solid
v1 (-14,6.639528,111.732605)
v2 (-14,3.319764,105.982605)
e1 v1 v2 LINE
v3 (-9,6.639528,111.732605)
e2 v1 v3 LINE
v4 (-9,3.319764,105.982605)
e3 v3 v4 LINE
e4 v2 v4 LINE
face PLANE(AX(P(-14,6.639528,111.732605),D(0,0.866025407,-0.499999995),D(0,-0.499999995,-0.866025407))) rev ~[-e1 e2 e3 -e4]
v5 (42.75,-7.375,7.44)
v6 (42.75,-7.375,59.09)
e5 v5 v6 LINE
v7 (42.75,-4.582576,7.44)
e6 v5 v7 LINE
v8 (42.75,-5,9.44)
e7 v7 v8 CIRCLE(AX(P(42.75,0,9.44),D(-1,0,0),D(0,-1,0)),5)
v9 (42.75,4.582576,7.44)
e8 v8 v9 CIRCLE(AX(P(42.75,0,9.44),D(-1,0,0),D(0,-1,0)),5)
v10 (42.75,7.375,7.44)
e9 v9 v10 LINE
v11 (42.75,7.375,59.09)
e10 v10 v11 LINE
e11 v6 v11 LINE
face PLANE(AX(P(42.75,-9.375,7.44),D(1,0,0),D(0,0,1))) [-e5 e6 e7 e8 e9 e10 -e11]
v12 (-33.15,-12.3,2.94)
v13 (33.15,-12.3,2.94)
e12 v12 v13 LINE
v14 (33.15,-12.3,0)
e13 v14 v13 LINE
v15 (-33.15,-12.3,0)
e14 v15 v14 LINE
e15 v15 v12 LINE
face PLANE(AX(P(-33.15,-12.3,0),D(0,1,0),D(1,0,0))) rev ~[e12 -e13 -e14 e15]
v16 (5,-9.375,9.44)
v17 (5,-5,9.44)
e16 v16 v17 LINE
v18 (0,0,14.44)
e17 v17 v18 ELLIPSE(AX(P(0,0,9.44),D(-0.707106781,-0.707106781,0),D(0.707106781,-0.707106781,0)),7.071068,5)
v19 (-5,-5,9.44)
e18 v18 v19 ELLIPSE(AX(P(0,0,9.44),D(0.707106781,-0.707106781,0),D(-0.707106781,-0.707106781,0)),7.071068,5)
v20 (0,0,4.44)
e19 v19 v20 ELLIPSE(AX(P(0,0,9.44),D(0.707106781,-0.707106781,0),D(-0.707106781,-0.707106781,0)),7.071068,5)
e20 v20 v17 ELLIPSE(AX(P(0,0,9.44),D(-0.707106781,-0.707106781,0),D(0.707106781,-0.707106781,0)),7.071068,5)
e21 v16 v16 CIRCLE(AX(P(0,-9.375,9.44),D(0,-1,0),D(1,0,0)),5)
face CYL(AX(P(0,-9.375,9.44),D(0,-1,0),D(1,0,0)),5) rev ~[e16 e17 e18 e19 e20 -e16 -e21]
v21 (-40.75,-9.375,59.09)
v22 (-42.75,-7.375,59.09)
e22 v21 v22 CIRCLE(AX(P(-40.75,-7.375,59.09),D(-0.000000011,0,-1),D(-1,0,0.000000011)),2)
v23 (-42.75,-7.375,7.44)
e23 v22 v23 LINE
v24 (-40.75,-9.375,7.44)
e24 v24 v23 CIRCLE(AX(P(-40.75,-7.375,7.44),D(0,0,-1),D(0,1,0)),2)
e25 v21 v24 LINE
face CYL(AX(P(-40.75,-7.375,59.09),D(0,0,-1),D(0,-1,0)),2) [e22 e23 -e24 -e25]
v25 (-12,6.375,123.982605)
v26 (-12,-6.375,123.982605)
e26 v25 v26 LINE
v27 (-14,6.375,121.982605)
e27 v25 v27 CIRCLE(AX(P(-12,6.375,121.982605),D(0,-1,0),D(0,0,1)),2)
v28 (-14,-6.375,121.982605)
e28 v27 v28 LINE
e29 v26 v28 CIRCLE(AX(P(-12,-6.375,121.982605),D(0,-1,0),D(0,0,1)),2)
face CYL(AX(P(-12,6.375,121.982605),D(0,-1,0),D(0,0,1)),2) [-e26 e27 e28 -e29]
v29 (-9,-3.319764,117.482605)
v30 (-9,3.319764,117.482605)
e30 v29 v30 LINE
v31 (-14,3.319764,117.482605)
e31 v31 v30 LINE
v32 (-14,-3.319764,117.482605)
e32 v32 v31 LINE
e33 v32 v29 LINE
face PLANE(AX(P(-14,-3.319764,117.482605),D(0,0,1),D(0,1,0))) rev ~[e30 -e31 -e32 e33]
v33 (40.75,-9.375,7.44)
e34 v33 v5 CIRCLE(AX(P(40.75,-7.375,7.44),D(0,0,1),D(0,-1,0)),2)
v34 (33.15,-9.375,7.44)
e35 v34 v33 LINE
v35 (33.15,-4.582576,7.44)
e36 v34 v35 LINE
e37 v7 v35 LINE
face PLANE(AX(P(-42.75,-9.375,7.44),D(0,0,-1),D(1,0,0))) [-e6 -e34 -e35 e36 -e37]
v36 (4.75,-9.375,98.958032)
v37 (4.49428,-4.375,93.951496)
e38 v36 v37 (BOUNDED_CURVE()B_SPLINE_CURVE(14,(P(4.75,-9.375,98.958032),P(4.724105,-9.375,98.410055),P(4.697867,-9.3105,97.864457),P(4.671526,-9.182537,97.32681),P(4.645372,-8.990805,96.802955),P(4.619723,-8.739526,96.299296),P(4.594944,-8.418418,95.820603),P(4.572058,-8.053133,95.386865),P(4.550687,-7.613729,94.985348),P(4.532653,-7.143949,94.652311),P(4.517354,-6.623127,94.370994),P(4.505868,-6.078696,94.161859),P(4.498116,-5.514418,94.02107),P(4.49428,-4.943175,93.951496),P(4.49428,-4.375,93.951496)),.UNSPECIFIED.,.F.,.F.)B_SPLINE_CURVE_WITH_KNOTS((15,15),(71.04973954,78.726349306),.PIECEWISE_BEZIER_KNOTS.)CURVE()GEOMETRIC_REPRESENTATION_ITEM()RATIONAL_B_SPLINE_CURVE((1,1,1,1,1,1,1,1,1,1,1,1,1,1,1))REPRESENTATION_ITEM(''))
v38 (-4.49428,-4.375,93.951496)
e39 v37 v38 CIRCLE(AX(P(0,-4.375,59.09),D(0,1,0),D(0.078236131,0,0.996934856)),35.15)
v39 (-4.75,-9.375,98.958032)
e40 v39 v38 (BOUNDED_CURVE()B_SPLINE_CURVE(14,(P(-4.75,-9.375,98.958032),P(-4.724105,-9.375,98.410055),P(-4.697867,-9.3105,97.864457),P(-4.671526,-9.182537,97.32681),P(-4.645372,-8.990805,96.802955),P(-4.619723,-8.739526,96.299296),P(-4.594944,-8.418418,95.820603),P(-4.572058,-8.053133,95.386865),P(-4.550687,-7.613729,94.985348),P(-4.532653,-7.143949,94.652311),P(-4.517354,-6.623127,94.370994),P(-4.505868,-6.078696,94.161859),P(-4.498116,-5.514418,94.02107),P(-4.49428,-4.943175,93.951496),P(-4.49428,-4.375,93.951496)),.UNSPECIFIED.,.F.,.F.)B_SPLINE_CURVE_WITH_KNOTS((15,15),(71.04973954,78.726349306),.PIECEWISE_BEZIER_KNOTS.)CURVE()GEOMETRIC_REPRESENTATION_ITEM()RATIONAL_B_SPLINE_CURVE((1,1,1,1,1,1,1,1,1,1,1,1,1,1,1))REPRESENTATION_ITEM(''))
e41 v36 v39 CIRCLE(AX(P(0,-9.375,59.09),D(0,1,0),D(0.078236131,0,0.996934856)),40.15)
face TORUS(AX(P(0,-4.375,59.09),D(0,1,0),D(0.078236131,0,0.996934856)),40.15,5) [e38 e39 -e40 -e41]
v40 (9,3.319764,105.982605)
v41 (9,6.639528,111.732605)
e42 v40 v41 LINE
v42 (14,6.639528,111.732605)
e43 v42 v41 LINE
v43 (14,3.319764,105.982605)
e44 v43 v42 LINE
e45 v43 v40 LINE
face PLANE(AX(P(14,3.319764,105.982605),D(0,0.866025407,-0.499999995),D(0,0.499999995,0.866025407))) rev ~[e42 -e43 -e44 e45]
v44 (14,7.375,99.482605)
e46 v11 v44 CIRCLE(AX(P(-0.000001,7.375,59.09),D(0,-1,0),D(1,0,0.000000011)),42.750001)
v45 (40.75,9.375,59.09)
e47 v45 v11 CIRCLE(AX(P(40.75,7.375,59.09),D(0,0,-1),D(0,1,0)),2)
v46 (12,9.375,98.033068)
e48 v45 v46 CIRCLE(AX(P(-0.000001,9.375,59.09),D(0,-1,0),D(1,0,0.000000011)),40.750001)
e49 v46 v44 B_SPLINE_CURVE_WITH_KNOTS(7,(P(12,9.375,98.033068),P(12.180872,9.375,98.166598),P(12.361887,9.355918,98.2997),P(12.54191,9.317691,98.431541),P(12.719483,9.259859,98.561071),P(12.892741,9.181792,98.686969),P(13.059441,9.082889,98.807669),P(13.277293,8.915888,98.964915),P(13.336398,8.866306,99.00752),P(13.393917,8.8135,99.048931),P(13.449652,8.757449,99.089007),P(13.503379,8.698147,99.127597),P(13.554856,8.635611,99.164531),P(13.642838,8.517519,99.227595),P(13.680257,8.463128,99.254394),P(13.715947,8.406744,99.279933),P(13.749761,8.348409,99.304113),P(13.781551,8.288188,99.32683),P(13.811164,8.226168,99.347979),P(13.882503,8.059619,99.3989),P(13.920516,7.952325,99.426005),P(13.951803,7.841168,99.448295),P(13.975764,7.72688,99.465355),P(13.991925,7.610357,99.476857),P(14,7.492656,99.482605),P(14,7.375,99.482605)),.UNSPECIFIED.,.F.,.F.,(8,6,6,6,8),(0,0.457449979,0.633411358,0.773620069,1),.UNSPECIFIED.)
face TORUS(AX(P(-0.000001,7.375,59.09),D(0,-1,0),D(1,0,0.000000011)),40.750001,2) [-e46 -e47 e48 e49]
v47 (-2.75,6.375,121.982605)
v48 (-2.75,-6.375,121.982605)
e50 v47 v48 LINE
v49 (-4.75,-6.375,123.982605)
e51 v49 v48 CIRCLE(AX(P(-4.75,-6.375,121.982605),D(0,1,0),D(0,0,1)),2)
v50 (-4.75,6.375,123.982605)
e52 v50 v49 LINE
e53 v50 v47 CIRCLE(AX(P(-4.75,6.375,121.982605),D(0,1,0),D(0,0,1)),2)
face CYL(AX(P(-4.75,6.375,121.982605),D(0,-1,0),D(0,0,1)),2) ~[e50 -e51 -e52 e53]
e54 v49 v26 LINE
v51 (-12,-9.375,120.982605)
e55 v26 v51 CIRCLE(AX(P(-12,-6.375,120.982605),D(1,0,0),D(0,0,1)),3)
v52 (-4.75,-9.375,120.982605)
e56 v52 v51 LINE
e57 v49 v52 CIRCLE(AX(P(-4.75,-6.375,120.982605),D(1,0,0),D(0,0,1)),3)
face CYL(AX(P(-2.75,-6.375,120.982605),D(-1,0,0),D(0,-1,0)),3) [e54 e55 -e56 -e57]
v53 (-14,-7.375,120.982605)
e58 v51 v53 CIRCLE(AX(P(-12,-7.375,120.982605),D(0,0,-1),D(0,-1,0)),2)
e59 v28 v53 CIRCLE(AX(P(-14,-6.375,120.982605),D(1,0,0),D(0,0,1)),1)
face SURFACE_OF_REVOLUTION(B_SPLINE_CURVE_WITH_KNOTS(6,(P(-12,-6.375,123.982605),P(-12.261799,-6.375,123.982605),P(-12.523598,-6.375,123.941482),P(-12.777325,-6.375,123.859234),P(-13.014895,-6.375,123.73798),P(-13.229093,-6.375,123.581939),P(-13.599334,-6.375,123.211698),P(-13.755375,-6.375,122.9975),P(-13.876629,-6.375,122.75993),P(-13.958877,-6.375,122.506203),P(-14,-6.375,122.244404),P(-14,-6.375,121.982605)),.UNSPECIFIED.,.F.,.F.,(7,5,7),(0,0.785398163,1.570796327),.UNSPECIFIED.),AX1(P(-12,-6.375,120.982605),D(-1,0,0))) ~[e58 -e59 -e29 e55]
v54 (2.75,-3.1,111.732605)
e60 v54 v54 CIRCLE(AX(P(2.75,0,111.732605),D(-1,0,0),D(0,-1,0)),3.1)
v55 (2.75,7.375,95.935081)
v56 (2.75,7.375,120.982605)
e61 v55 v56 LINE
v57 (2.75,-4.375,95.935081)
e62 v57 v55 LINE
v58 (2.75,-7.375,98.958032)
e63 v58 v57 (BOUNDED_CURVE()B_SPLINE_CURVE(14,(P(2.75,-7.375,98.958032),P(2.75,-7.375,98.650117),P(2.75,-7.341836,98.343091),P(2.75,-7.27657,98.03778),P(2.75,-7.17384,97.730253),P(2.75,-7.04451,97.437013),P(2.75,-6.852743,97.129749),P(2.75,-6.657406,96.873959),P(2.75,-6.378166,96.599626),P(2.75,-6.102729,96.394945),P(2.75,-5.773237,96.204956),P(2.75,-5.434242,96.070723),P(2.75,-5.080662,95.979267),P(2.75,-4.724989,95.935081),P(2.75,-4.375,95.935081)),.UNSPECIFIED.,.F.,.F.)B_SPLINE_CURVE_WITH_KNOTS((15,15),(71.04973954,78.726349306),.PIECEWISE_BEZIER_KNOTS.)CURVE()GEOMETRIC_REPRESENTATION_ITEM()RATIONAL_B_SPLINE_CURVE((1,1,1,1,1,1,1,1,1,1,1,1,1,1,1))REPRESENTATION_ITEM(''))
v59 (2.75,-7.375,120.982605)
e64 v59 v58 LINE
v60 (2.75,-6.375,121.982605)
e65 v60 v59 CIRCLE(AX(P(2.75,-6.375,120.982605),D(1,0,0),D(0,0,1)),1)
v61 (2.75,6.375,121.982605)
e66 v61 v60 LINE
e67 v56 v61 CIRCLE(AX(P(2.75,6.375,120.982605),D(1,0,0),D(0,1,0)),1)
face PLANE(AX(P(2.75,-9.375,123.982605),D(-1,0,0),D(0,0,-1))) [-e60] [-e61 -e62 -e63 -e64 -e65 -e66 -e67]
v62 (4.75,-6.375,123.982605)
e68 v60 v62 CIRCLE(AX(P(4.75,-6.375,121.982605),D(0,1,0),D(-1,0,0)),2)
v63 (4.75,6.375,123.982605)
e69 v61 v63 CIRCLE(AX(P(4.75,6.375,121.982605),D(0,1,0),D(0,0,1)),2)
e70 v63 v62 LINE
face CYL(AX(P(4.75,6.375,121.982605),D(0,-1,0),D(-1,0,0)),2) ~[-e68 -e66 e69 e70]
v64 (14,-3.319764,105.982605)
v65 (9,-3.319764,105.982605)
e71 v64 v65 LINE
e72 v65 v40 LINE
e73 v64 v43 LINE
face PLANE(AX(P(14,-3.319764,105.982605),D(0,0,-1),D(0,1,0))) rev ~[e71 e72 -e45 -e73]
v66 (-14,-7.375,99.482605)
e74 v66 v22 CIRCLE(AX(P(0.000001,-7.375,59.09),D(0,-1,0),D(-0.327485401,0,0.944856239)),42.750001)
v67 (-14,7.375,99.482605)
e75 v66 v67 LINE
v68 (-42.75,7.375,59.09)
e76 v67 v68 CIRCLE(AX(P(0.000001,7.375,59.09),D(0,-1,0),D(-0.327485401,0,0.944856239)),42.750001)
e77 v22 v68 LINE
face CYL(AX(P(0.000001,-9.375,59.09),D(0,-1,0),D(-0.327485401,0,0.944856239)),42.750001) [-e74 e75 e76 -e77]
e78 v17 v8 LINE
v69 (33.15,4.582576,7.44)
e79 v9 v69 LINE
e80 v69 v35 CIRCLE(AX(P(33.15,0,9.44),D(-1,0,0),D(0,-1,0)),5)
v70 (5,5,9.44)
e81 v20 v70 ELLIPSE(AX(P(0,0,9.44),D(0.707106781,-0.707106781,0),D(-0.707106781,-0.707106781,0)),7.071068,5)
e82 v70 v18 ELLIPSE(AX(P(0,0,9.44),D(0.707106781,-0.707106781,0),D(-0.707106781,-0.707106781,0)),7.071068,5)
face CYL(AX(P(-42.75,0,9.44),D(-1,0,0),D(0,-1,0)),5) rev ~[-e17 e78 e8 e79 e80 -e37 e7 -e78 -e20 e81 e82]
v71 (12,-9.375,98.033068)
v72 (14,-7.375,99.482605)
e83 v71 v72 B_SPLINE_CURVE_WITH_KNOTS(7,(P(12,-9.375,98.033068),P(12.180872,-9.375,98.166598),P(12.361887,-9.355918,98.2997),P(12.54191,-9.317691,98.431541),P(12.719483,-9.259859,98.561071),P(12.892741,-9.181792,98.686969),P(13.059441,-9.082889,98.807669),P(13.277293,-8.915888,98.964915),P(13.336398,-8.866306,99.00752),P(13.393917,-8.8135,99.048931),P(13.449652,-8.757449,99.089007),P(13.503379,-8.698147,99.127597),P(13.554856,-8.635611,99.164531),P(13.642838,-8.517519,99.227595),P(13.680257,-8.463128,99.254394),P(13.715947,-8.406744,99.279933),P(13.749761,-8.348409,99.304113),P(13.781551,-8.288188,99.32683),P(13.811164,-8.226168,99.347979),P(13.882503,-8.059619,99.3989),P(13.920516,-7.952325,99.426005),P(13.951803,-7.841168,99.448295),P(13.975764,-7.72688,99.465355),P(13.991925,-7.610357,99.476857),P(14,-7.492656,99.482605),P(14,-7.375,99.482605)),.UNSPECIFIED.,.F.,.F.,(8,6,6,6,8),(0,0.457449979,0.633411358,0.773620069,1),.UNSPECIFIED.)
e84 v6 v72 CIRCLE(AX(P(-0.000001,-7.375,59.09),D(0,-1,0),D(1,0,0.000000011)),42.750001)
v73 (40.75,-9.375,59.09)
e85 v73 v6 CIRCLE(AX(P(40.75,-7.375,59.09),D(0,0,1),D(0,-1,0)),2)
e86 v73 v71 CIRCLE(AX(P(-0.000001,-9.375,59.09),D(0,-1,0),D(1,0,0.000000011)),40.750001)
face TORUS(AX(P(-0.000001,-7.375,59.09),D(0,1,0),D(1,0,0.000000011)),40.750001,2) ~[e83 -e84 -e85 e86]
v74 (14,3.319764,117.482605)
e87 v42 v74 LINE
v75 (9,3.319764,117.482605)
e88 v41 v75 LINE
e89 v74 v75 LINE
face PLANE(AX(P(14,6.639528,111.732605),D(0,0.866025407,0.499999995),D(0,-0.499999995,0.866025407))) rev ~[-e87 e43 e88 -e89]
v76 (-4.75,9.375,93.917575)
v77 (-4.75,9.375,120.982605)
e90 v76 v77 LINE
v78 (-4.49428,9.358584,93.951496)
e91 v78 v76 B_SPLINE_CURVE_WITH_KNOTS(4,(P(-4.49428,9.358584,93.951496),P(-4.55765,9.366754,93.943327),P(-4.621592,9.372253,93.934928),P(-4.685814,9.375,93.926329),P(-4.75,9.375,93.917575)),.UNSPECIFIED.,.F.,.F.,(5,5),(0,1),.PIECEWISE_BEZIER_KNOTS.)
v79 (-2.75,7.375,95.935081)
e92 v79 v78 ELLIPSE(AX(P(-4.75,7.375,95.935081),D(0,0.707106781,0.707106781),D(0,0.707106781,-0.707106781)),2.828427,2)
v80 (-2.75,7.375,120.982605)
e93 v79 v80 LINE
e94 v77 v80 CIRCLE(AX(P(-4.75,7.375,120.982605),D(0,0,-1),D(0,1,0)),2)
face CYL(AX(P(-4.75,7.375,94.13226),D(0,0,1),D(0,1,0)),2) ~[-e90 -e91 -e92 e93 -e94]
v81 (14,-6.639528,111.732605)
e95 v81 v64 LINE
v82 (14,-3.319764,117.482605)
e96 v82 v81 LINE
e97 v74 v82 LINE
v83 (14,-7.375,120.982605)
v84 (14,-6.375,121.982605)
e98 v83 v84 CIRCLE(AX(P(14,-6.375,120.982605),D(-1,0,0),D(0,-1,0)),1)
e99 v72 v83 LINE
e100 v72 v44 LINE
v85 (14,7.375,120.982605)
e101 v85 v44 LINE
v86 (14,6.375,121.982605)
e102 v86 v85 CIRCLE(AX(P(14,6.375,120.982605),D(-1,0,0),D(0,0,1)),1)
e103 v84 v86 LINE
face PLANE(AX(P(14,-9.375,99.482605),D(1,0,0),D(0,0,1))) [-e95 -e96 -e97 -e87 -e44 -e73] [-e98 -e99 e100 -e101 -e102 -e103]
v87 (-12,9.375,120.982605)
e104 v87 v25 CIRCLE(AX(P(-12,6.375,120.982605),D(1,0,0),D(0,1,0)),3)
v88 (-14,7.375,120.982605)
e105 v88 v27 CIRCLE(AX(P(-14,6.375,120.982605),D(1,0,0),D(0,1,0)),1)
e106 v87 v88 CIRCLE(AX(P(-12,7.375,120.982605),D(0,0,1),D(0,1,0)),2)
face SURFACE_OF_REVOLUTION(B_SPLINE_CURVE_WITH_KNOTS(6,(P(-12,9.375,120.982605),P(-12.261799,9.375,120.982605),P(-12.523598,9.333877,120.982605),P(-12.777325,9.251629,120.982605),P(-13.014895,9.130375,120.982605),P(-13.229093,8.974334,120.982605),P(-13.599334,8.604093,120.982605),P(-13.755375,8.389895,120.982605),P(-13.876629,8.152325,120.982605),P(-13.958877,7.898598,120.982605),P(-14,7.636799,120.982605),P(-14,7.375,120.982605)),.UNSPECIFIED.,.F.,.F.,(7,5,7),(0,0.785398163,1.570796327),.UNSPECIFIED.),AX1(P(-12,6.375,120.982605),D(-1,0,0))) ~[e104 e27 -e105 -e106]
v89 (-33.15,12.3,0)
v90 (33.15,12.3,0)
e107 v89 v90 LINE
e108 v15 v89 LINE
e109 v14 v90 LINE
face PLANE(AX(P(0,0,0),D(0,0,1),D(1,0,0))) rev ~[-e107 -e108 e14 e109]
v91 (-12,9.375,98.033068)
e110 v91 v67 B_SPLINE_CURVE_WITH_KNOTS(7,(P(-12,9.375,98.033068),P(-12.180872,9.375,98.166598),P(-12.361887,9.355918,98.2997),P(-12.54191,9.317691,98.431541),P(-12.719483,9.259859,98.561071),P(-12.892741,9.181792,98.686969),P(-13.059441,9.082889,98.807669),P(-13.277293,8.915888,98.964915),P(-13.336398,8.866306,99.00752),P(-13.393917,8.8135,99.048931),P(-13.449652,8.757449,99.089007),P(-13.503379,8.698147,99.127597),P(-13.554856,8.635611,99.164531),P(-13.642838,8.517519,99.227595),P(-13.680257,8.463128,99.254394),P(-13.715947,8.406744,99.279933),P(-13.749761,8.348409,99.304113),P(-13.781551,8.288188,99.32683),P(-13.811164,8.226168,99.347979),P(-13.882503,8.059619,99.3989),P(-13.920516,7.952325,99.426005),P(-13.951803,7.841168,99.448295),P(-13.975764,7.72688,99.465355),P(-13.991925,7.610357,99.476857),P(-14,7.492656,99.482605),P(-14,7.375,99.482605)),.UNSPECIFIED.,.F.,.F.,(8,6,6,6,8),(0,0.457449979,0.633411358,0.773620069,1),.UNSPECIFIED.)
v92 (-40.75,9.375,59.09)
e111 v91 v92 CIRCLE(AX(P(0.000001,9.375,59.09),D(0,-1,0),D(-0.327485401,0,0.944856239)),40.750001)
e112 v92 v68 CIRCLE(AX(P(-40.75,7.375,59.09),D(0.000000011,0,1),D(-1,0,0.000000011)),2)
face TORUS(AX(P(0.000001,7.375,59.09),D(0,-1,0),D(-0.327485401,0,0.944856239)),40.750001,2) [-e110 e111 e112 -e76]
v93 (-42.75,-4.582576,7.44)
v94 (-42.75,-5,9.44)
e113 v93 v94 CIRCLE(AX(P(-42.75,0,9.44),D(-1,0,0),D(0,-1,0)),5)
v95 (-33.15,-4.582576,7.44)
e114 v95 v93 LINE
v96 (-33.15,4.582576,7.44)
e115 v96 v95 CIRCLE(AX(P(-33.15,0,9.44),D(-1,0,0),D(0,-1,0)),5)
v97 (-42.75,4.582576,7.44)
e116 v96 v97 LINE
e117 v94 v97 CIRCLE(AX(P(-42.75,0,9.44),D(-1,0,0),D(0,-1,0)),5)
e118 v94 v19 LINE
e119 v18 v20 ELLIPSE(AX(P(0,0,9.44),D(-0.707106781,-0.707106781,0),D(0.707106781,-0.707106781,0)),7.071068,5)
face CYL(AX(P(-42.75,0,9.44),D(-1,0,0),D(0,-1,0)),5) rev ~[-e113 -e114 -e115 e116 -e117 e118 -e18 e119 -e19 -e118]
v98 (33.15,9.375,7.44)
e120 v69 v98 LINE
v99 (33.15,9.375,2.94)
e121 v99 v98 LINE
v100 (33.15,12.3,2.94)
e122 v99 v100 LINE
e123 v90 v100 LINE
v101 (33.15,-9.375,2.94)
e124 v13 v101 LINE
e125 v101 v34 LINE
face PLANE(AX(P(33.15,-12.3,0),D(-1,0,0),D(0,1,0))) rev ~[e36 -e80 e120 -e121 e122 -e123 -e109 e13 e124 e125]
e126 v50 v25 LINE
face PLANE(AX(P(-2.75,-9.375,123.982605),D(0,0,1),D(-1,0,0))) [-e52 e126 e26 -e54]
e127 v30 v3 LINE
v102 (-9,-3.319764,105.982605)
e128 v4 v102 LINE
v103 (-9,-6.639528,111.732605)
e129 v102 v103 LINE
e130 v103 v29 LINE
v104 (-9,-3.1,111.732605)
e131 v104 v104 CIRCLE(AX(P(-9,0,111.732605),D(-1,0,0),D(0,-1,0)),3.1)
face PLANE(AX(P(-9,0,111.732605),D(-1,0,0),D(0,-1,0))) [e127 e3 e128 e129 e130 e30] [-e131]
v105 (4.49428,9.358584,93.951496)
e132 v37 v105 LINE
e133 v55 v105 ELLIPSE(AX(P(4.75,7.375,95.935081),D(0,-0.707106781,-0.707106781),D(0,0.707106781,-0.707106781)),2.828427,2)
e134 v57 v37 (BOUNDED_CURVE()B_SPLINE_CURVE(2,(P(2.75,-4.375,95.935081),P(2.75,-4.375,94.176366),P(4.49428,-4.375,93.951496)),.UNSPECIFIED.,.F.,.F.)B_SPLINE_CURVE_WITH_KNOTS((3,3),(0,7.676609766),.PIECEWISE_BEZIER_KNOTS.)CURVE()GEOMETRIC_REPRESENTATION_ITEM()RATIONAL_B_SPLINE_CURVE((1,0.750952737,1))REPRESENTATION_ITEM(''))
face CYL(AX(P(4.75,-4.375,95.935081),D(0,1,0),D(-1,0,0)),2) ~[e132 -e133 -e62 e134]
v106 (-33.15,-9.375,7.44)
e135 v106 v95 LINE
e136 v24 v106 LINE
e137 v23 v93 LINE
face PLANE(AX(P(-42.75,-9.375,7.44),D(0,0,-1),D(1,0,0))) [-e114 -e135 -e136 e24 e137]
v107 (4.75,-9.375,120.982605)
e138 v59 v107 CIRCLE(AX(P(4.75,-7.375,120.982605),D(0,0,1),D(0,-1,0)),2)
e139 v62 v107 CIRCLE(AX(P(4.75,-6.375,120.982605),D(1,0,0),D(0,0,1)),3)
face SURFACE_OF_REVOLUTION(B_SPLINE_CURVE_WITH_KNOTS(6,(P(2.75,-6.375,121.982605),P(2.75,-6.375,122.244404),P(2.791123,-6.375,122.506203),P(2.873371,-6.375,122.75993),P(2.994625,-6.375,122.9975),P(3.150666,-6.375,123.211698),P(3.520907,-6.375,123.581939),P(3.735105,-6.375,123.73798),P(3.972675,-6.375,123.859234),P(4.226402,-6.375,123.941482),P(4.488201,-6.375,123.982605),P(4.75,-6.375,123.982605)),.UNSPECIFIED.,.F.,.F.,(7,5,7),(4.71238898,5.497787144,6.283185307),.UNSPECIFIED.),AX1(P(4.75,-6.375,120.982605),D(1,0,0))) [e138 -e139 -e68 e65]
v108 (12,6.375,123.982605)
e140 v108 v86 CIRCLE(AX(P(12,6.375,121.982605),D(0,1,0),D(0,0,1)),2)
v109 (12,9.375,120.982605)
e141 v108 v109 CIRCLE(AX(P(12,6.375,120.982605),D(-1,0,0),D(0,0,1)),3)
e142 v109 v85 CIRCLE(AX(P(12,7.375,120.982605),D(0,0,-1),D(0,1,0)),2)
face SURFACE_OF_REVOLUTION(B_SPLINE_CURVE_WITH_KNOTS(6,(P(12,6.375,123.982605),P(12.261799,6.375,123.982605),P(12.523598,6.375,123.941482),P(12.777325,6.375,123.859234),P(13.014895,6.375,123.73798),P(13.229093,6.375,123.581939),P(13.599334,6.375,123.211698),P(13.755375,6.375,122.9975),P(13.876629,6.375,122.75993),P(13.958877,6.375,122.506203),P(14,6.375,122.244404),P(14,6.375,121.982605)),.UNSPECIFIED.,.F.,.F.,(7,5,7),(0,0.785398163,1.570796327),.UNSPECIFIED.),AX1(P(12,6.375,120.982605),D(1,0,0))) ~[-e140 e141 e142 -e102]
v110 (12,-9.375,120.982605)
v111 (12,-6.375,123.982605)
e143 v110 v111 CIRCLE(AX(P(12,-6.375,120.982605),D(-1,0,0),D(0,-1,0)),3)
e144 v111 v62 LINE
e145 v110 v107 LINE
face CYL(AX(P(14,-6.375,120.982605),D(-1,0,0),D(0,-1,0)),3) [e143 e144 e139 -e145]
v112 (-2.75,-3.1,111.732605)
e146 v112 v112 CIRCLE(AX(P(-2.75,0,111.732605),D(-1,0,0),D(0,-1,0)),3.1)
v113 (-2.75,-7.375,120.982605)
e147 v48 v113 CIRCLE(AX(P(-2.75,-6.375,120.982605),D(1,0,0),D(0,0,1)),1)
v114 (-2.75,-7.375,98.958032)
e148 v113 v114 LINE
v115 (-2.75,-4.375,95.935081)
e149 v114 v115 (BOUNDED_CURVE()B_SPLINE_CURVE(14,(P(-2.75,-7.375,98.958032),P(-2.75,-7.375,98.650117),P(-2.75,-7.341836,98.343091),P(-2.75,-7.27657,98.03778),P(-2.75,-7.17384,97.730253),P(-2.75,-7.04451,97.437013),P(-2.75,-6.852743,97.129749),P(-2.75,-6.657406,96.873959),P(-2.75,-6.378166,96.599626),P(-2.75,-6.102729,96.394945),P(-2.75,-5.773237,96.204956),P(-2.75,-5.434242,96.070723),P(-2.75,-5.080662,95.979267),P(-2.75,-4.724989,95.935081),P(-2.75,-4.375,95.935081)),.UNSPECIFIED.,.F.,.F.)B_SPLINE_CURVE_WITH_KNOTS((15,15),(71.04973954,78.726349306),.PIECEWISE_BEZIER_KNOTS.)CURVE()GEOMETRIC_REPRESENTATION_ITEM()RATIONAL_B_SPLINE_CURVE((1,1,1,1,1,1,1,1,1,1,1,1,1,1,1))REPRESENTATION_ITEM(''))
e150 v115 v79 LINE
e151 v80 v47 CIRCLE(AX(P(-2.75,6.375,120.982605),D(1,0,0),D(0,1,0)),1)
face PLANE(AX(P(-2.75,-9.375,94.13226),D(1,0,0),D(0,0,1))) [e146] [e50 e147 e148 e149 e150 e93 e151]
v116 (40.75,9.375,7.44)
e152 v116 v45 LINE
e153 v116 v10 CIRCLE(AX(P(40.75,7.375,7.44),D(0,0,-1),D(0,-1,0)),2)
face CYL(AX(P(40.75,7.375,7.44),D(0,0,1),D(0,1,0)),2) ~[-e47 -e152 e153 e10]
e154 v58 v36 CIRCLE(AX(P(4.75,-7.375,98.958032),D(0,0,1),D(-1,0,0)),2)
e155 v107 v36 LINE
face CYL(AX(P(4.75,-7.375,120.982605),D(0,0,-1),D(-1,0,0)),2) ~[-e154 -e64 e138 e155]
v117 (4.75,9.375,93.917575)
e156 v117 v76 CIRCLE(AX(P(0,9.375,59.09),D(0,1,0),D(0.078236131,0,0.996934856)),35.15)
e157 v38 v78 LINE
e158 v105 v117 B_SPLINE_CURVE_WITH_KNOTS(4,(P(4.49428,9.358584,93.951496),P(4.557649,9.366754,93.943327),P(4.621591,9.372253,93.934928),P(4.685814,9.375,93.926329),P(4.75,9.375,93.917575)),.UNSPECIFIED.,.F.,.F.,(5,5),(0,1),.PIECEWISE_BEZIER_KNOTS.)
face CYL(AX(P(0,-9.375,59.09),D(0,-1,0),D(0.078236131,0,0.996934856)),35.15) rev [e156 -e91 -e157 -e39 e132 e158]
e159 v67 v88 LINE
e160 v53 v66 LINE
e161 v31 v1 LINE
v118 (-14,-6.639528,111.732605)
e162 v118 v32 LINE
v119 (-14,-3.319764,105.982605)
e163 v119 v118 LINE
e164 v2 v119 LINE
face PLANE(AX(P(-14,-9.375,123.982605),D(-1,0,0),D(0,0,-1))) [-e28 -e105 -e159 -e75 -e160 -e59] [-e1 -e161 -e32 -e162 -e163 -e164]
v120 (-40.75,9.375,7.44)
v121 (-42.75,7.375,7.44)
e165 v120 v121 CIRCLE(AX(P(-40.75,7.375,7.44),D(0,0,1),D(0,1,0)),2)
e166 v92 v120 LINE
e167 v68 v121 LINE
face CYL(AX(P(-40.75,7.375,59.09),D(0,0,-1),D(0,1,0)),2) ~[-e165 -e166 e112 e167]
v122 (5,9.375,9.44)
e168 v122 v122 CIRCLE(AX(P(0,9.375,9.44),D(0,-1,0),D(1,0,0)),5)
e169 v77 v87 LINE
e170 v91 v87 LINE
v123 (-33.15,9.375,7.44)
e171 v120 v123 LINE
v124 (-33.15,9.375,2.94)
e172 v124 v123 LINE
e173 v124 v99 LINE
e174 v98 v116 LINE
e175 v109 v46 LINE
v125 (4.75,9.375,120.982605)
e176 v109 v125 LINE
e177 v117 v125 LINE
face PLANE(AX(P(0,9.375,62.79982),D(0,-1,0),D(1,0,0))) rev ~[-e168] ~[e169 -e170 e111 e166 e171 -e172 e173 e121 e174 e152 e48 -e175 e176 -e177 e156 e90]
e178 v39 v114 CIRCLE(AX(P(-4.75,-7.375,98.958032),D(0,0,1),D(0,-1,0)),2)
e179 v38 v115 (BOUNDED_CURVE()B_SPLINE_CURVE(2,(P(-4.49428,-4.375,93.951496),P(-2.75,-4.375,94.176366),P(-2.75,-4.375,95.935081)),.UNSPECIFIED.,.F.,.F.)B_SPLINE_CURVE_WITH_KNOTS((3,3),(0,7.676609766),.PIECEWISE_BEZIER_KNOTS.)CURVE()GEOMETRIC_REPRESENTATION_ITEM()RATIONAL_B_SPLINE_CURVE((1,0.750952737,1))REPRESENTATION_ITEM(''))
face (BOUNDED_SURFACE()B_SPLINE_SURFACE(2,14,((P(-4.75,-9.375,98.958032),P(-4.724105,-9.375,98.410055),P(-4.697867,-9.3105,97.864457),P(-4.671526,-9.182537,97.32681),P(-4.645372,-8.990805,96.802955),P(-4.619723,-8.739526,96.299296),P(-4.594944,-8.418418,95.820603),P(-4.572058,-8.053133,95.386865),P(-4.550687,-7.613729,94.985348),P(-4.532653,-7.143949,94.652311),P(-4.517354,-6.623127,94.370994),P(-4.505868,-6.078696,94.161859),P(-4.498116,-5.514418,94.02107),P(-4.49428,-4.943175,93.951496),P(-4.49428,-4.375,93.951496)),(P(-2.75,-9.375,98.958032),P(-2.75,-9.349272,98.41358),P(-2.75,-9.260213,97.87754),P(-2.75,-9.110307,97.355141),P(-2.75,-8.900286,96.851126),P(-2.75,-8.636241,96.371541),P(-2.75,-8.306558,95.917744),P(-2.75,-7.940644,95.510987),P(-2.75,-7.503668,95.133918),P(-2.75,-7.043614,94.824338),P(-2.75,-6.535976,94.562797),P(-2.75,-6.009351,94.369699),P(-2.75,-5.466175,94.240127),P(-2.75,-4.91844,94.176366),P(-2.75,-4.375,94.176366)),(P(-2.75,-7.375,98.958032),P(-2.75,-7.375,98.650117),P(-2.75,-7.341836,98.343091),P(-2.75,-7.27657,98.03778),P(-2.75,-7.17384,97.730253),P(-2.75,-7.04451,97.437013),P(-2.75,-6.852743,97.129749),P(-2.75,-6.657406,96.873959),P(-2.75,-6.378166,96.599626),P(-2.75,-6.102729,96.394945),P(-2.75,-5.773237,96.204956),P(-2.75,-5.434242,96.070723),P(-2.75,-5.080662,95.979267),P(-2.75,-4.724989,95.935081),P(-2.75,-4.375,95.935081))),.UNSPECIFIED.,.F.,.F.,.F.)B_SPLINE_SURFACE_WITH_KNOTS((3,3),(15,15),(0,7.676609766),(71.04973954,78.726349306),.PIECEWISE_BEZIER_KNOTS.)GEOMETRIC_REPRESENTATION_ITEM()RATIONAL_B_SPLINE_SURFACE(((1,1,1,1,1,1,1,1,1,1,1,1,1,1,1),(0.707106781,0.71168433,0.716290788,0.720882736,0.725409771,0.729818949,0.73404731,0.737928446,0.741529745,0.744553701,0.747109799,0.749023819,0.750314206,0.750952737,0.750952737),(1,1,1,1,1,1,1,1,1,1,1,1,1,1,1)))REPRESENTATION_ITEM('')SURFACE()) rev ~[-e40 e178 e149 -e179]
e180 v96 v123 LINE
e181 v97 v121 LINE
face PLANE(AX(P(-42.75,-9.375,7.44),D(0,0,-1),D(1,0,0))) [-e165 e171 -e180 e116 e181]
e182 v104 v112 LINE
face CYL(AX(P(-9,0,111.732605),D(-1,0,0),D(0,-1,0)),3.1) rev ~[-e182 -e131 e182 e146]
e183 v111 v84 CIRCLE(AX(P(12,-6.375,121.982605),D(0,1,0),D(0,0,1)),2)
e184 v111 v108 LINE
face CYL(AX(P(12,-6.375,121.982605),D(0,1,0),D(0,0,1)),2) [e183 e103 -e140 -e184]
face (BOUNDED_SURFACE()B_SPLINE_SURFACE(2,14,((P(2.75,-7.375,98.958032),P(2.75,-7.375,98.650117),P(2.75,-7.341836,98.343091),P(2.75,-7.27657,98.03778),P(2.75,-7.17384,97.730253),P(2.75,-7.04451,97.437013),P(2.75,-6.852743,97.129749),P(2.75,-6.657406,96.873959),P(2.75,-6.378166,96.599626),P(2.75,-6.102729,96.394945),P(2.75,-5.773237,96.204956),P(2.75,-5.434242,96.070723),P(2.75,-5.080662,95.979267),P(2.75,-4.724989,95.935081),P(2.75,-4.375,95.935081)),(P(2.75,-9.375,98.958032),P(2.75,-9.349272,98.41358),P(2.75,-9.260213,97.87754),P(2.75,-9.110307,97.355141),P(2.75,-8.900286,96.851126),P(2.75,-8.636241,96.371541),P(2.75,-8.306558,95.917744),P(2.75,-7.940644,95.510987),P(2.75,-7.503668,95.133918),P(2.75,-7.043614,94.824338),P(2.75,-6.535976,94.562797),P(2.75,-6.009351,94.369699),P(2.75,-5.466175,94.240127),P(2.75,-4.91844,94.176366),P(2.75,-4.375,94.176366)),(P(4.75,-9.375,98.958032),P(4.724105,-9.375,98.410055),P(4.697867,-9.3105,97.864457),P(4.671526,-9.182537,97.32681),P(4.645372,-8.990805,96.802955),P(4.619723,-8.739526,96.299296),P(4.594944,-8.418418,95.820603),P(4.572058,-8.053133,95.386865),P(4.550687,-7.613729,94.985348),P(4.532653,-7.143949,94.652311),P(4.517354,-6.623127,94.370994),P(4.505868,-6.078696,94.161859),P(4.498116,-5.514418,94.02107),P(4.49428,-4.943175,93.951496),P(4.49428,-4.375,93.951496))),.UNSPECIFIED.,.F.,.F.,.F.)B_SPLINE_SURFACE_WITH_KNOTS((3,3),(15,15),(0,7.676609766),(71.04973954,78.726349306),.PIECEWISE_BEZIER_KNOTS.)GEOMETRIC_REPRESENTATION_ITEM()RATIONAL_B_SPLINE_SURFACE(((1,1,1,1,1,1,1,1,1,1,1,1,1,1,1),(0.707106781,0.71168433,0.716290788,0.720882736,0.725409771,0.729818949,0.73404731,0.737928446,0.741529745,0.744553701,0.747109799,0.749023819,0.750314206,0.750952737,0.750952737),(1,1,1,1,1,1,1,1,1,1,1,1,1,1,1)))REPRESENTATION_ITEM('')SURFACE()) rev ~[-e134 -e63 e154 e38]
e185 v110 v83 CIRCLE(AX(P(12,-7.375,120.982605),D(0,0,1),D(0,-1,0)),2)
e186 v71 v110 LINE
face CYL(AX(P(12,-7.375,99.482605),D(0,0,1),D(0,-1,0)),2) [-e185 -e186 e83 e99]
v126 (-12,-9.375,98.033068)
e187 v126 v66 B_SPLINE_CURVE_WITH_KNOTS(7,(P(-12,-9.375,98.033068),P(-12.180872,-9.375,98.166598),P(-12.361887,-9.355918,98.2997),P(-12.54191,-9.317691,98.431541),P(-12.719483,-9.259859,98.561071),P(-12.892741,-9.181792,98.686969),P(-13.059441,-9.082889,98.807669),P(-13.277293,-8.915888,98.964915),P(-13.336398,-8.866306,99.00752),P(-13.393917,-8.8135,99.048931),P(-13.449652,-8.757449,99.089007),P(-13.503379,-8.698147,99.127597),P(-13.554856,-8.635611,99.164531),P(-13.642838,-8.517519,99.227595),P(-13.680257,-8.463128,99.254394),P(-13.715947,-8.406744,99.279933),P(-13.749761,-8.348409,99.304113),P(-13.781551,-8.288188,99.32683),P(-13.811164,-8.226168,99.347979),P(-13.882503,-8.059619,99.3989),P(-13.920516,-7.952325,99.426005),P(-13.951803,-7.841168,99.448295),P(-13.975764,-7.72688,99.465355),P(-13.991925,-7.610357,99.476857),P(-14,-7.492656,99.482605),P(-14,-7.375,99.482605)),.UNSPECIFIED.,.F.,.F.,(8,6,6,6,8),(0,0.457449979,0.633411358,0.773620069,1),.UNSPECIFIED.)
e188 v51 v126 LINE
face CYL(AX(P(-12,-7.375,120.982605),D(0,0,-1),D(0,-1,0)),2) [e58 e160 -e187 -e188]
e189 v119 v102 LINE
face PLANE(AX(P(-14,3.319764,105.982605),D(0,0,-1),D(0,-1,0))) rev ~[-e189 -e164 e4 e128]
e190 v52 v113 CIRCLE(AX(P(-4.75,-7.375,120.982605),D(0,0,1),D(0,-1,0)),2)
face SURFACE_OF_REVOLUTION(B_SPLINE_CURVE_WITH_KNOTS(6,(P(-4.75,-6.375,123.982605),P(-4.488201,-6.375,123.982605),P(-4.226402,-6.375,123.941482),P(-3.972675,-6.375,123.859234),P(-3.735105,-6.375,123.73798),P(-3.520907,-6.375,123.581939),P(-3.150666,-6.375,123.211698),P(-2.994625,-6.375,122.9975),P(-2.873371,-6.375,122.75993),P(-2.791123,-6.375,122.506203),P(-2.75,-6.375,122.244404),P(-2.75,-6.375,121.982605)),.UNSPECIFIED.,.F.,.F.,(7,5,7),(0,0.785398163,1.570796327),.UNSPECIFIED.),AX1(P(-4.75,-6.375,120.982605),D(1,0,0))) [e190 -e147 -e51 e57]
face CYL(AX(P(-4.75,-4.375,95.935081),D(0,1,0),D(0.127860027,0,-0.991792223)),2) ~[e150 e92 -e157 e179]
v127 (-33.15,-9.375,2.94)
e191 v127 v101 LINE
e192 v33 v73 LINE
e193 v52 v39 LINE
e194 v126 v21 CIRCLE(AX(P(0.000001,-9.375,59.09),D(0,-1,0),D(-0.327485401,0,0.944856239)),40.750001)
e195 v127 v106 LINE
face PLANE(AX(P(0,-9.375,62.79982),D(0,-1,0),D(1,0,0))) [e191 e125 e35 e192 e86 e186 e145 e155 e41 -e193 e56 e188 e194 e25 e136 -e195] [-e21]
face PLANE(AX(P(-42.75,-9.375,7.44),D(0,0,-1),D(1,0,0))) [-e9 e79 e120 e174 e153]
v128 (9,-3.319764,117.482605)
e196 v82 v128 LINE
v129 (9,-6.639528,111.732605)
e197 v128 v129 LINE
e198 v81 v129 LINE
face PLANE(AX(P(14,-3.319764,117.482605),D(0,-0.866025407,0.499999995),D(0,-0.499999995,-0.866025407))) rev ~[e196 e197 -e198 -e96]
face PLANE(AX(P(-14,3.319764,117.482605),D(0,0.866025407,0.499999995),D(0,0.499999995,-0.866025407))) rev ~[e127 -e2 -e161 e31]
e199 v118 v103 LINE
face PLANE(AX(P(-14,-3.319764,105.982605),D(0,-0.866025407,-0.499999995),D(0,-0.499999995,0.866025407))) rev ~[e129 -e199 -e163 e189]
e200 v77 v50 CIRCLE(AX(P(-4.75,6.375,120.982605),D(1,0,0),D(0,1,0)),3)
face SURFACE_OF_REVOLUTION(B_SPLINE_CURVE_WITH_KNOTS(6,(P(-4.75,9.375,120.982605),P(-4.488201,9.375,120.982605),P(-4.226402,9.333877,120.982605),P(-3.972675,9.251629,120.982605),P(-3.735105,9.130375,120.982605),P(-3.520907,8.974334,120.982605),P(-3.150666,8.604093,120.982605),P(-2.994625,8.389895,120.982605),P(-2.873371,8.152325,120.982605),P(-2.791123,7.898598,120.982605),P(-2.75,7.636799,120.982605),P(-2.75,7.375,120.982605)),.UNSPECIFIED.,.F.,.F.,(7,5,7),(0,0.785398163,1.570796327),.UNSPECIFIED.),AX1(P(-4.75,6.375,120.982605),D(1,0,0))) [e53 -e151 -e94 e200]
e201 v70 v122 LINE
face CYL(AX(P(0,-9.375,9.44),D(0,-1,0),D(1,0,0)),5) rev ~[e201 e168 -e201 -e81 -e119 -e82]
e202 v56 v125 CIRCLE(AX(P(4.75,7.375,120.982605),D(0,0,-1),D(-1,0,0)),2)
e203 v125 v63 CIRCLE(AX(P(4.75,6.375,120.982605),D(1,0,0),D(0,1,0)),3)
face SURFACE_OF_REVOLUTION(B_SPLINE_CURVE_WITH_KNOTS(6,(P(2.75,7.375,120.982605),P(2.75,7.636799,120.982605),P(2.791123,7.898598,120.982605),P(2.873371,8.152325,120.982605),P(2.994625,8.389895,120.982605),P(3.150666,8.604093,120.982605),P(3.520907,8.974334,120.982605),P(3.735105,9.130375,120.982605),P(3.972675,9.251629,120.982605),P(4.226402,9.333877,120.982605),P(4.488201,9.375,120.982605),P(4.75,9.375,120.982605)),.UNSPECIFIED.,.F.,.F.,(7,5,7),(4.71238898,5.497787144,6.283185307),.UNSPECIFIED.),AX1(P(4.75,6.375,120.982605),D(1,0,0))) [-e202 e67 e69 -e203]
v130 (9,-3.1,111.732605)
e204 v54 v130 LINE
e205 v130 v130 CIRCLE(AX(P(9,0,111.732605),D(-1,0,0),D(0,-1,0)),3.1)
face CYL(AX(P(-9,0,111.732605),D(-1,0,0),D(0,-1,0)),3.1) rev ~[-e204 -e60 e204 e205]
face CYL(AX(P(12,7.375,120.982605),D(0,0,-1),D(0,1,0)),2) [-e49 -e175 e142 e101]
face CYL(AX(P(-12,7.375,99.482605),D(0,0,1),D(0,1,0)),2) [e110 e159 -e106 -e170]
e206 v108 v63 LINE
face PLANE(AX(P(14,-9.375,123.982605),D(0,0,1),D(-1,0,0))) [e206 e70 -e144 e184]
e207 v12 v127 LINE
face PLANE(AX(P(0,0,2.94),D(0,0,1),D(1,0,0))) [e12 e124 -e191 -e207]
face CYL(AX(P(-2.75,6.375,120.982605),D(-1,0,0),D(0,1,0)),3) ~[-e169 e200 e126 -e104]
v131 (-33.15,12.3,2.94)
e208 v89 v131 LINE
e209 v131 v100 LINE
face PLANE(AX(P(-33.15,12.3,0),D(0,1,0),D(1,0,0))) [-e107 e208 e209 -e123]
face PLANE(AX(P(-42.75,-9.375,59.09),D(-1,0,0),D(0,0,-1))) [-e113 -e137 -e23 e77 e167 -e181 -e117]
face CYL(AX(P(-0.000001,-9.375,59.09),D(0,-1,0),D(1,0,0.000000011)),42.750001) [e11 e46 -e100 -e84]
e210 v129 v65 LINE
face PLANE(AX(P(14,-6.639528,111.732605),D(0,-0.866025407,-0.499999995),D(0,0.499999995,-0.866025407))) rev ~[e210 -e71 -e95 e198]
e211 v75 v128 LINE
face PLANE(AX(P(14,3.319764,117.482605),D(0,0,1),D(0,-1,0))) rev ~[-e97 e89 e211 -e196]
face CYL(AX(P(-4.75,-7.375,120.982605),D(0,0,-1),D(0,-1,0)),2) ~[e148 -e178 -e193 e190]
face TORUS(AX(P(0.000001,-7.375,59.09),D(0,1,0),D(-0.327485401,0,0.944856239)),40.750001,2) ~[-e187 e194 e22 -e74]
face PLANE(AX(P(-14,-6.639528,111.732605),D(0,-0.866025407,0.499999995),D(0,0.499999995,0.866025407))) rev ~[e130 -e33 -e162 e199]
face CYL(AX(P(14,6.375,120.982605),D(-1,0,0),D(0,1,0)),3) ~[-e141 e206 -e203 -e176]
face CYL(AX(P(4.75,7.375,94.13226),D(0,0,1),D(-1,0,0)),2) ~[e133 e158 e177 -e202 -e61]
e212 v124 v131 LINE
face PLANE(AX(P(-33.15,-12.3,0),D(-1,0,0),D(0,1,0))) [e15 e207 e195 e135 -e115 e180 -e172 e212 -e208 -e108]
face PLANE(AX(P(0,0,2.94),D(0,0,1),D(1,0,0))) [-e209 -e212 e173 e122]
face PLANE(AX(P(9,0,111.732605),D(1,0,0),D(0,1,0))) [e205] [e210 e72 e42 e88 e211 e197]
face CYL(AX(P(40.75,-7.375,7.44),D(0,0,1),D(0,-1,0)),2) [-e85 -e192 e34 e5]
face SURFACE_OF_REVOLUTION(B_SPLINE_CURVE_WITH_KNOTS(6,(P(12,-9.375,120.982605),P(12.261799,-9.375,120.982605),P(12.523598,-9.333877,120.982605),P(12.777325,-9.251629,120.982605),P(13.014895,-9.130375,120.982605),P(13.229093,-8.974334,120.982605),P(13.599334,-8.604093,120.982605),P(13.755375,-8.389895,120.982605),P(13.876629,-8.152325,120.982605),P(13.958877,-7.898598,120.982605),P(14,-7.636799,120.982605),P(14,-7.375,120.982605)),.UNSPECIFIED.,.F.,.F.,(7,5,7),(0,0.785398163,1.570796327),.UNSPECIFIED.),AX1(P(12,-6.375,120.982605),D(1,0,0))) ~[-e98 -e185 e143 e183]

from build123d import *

# Parameters (mm, degrees)
F0_W      = 66.3
F0_H      = 24.6
F1_DEPTH  = 2.94
F2_W      = 66.3
F2_H      = 18.75
F3_DEPTH  = 4.5
F5_DEPTH  = 18.75
F7_DEPTH  = 5
F9_DEPTH  = 5
F10_R     = 3.1
F11_DEPTH = 51.751
F12_R     = 5
F13_DEPTH = 21.676
F14_R     = 5
F15_DEPTH = 85.501
F16_R     = 5
F17_R     = 3
F18_R     = 2


with BuildPart() as f1:
    # F0 (on Top) → F1 (new body)
    with BuildSketch(Plane.XY):
        Rectangle(F0_W, F0_H)
    extrude(amount=F1_DEPTH)

    # F2 (on face) → F3 (join)
    with BuildSketch(Plane.XY.offset(2.94)):
        Rectangle(F2_W, F2_H)
    extrude(amount=F3_DEPTH)

    # F4 (on face) → F5 (join, through all)
    with BuildSketch(Plane.XZ.offset(9.375)):
        with BuildLine():
            ThreePointArc((2.75, 94.13226), (0, 23.94), (-2.75, 94.13226))
            Line((-2.75, 94.13226), (-2.75, 123.982605))
            Line((-2.75, 123.982605), (-14, 123.982605))
            Line((-14, 123.982605), (-14, 99.482605))
            ThreePointArc((-14, 99.482605), (-34.828598, 83.879741), (-42.75, 59.09))
            Line((-42.75, 59.09), (-42.75, 7.44))
            Line((-42.75, 7.44), (42.75, 7.44))
            Line((42.75, 7.44), (42.75, 59.09))
            ThreePointArc((42.75, 59.09), (34.828598, 83.879741), (14, 99.482605))
            Line((14, 99.482605), (14, 123.982605))
            Line((14, 123.982605), (2.75, 123.982605))
            Line((2.75, 123.982605), (2.75, 94.13226))
        make_face()
    extrude(amount=-F5_DEPTH)

    # F6 (on face) → F7 (cut)
    with BuildSketch(Plane(origin=(-14, 0, 0), x_dir=(0, -1, 0), z_dir=(-1, 0, 0))):
        Polygon((-3.319764, 105.982605), (3.319764, 105.982605), (6.639528, 111.732605), (3.319764, 117.482605), (-3.319764, 117.482605), (-6.639528, 111.732605), align=None)
    extrude(amount=-F7_DEPTH, mode=Mode.SUBTRACT)

    # F8 (on face) → F9 (cut)
    with BuildSketch(Plane.YZ.offset(14)):
        Polygon((-6.639528, 111.732605), (-3.319764, 105.982605), (3.319764, 105.982605), (6.639528, 111.732605), (3.319764, 117.482605), (-3.319764, 117.482605), align=None)
    extrude(amount=-F9_DEPTH, mode=Mode.SUBTRACT)

    # F10 (on face) → F11 (cut, through all)
    with BuildSketch(Plane(origin=(-9, 0, 0), x_dir=(0, -1, 0), z_dir=(-1, 0, 0))):
        with Locations((0, 111.732605)):
            Circle(F10_R)
    extrude(amount=-F11_DEPTH, mode=Mode.SUBTRACT)

    # F12 (on face) → F13 (cut, through all)
    with BuildSketch(Plane.XZ.offset(9.375)):
        with Locations((0, 9.44)):
            Circle(F12_R)
    extrude(amount=-F13_DEPTH, mode=Mode.SUBTRACT)

    # F14 (on face) → F15 (cut, through all)
    with BuildSketch(Plane(origin=(-42.75, 0, 0), x_dir=(0, -1, 0), z_dir=(-1, 0, 0))):
        with Locations((0, 9.44)):
            Circle(F14_R)
    extrude(amount=-F15_DEPTH, mode=Mode.SUBTRACT)

    # F16
    f16_edges = [f1.edges().sort_by_distance(p)[0] for p in [
        (0, -9.375, 23.94),
    ]]
    fillet(f16_edges, radius=F16_R)

    # F17
    f17_edges = [f1.edges().sort_by_distance(p)[0] for p in [
        (8.375, -9.375, 123.982605),
        (-8.375, -9.375, 123.982605),
        (8.375, 9.375, 123.982605),
        (-8.375, 9.375, 123.982605),
    ]]
    fillet(f17_edges, radius=F17_R)

    # F18
    f18_edges = [f1.edges().sort_by_distance(p)[0] for p in [
        (42.75, -9.375, 33.265),
        (-42.75, -9.375, 33.265),
        (42.75, 9.375, 33.265),
        (-42.75, 9.375, 33.265),
        (14, -9.375, 110.232605),
        (14, 9.375, 110.232605),
        (-14, -9.375, 110.232605),
        (-14, 9.375, 110.232605),
        (-2.75, 2.5, 94.13226),
        (2.75, 2.5, 94.13226),
        (-2.75, 0, 123.982605),
        (2.75, 0, 123.982605),
    ]]
    fillet(f18_edges, radius=F18_R)


solid = f1.part
